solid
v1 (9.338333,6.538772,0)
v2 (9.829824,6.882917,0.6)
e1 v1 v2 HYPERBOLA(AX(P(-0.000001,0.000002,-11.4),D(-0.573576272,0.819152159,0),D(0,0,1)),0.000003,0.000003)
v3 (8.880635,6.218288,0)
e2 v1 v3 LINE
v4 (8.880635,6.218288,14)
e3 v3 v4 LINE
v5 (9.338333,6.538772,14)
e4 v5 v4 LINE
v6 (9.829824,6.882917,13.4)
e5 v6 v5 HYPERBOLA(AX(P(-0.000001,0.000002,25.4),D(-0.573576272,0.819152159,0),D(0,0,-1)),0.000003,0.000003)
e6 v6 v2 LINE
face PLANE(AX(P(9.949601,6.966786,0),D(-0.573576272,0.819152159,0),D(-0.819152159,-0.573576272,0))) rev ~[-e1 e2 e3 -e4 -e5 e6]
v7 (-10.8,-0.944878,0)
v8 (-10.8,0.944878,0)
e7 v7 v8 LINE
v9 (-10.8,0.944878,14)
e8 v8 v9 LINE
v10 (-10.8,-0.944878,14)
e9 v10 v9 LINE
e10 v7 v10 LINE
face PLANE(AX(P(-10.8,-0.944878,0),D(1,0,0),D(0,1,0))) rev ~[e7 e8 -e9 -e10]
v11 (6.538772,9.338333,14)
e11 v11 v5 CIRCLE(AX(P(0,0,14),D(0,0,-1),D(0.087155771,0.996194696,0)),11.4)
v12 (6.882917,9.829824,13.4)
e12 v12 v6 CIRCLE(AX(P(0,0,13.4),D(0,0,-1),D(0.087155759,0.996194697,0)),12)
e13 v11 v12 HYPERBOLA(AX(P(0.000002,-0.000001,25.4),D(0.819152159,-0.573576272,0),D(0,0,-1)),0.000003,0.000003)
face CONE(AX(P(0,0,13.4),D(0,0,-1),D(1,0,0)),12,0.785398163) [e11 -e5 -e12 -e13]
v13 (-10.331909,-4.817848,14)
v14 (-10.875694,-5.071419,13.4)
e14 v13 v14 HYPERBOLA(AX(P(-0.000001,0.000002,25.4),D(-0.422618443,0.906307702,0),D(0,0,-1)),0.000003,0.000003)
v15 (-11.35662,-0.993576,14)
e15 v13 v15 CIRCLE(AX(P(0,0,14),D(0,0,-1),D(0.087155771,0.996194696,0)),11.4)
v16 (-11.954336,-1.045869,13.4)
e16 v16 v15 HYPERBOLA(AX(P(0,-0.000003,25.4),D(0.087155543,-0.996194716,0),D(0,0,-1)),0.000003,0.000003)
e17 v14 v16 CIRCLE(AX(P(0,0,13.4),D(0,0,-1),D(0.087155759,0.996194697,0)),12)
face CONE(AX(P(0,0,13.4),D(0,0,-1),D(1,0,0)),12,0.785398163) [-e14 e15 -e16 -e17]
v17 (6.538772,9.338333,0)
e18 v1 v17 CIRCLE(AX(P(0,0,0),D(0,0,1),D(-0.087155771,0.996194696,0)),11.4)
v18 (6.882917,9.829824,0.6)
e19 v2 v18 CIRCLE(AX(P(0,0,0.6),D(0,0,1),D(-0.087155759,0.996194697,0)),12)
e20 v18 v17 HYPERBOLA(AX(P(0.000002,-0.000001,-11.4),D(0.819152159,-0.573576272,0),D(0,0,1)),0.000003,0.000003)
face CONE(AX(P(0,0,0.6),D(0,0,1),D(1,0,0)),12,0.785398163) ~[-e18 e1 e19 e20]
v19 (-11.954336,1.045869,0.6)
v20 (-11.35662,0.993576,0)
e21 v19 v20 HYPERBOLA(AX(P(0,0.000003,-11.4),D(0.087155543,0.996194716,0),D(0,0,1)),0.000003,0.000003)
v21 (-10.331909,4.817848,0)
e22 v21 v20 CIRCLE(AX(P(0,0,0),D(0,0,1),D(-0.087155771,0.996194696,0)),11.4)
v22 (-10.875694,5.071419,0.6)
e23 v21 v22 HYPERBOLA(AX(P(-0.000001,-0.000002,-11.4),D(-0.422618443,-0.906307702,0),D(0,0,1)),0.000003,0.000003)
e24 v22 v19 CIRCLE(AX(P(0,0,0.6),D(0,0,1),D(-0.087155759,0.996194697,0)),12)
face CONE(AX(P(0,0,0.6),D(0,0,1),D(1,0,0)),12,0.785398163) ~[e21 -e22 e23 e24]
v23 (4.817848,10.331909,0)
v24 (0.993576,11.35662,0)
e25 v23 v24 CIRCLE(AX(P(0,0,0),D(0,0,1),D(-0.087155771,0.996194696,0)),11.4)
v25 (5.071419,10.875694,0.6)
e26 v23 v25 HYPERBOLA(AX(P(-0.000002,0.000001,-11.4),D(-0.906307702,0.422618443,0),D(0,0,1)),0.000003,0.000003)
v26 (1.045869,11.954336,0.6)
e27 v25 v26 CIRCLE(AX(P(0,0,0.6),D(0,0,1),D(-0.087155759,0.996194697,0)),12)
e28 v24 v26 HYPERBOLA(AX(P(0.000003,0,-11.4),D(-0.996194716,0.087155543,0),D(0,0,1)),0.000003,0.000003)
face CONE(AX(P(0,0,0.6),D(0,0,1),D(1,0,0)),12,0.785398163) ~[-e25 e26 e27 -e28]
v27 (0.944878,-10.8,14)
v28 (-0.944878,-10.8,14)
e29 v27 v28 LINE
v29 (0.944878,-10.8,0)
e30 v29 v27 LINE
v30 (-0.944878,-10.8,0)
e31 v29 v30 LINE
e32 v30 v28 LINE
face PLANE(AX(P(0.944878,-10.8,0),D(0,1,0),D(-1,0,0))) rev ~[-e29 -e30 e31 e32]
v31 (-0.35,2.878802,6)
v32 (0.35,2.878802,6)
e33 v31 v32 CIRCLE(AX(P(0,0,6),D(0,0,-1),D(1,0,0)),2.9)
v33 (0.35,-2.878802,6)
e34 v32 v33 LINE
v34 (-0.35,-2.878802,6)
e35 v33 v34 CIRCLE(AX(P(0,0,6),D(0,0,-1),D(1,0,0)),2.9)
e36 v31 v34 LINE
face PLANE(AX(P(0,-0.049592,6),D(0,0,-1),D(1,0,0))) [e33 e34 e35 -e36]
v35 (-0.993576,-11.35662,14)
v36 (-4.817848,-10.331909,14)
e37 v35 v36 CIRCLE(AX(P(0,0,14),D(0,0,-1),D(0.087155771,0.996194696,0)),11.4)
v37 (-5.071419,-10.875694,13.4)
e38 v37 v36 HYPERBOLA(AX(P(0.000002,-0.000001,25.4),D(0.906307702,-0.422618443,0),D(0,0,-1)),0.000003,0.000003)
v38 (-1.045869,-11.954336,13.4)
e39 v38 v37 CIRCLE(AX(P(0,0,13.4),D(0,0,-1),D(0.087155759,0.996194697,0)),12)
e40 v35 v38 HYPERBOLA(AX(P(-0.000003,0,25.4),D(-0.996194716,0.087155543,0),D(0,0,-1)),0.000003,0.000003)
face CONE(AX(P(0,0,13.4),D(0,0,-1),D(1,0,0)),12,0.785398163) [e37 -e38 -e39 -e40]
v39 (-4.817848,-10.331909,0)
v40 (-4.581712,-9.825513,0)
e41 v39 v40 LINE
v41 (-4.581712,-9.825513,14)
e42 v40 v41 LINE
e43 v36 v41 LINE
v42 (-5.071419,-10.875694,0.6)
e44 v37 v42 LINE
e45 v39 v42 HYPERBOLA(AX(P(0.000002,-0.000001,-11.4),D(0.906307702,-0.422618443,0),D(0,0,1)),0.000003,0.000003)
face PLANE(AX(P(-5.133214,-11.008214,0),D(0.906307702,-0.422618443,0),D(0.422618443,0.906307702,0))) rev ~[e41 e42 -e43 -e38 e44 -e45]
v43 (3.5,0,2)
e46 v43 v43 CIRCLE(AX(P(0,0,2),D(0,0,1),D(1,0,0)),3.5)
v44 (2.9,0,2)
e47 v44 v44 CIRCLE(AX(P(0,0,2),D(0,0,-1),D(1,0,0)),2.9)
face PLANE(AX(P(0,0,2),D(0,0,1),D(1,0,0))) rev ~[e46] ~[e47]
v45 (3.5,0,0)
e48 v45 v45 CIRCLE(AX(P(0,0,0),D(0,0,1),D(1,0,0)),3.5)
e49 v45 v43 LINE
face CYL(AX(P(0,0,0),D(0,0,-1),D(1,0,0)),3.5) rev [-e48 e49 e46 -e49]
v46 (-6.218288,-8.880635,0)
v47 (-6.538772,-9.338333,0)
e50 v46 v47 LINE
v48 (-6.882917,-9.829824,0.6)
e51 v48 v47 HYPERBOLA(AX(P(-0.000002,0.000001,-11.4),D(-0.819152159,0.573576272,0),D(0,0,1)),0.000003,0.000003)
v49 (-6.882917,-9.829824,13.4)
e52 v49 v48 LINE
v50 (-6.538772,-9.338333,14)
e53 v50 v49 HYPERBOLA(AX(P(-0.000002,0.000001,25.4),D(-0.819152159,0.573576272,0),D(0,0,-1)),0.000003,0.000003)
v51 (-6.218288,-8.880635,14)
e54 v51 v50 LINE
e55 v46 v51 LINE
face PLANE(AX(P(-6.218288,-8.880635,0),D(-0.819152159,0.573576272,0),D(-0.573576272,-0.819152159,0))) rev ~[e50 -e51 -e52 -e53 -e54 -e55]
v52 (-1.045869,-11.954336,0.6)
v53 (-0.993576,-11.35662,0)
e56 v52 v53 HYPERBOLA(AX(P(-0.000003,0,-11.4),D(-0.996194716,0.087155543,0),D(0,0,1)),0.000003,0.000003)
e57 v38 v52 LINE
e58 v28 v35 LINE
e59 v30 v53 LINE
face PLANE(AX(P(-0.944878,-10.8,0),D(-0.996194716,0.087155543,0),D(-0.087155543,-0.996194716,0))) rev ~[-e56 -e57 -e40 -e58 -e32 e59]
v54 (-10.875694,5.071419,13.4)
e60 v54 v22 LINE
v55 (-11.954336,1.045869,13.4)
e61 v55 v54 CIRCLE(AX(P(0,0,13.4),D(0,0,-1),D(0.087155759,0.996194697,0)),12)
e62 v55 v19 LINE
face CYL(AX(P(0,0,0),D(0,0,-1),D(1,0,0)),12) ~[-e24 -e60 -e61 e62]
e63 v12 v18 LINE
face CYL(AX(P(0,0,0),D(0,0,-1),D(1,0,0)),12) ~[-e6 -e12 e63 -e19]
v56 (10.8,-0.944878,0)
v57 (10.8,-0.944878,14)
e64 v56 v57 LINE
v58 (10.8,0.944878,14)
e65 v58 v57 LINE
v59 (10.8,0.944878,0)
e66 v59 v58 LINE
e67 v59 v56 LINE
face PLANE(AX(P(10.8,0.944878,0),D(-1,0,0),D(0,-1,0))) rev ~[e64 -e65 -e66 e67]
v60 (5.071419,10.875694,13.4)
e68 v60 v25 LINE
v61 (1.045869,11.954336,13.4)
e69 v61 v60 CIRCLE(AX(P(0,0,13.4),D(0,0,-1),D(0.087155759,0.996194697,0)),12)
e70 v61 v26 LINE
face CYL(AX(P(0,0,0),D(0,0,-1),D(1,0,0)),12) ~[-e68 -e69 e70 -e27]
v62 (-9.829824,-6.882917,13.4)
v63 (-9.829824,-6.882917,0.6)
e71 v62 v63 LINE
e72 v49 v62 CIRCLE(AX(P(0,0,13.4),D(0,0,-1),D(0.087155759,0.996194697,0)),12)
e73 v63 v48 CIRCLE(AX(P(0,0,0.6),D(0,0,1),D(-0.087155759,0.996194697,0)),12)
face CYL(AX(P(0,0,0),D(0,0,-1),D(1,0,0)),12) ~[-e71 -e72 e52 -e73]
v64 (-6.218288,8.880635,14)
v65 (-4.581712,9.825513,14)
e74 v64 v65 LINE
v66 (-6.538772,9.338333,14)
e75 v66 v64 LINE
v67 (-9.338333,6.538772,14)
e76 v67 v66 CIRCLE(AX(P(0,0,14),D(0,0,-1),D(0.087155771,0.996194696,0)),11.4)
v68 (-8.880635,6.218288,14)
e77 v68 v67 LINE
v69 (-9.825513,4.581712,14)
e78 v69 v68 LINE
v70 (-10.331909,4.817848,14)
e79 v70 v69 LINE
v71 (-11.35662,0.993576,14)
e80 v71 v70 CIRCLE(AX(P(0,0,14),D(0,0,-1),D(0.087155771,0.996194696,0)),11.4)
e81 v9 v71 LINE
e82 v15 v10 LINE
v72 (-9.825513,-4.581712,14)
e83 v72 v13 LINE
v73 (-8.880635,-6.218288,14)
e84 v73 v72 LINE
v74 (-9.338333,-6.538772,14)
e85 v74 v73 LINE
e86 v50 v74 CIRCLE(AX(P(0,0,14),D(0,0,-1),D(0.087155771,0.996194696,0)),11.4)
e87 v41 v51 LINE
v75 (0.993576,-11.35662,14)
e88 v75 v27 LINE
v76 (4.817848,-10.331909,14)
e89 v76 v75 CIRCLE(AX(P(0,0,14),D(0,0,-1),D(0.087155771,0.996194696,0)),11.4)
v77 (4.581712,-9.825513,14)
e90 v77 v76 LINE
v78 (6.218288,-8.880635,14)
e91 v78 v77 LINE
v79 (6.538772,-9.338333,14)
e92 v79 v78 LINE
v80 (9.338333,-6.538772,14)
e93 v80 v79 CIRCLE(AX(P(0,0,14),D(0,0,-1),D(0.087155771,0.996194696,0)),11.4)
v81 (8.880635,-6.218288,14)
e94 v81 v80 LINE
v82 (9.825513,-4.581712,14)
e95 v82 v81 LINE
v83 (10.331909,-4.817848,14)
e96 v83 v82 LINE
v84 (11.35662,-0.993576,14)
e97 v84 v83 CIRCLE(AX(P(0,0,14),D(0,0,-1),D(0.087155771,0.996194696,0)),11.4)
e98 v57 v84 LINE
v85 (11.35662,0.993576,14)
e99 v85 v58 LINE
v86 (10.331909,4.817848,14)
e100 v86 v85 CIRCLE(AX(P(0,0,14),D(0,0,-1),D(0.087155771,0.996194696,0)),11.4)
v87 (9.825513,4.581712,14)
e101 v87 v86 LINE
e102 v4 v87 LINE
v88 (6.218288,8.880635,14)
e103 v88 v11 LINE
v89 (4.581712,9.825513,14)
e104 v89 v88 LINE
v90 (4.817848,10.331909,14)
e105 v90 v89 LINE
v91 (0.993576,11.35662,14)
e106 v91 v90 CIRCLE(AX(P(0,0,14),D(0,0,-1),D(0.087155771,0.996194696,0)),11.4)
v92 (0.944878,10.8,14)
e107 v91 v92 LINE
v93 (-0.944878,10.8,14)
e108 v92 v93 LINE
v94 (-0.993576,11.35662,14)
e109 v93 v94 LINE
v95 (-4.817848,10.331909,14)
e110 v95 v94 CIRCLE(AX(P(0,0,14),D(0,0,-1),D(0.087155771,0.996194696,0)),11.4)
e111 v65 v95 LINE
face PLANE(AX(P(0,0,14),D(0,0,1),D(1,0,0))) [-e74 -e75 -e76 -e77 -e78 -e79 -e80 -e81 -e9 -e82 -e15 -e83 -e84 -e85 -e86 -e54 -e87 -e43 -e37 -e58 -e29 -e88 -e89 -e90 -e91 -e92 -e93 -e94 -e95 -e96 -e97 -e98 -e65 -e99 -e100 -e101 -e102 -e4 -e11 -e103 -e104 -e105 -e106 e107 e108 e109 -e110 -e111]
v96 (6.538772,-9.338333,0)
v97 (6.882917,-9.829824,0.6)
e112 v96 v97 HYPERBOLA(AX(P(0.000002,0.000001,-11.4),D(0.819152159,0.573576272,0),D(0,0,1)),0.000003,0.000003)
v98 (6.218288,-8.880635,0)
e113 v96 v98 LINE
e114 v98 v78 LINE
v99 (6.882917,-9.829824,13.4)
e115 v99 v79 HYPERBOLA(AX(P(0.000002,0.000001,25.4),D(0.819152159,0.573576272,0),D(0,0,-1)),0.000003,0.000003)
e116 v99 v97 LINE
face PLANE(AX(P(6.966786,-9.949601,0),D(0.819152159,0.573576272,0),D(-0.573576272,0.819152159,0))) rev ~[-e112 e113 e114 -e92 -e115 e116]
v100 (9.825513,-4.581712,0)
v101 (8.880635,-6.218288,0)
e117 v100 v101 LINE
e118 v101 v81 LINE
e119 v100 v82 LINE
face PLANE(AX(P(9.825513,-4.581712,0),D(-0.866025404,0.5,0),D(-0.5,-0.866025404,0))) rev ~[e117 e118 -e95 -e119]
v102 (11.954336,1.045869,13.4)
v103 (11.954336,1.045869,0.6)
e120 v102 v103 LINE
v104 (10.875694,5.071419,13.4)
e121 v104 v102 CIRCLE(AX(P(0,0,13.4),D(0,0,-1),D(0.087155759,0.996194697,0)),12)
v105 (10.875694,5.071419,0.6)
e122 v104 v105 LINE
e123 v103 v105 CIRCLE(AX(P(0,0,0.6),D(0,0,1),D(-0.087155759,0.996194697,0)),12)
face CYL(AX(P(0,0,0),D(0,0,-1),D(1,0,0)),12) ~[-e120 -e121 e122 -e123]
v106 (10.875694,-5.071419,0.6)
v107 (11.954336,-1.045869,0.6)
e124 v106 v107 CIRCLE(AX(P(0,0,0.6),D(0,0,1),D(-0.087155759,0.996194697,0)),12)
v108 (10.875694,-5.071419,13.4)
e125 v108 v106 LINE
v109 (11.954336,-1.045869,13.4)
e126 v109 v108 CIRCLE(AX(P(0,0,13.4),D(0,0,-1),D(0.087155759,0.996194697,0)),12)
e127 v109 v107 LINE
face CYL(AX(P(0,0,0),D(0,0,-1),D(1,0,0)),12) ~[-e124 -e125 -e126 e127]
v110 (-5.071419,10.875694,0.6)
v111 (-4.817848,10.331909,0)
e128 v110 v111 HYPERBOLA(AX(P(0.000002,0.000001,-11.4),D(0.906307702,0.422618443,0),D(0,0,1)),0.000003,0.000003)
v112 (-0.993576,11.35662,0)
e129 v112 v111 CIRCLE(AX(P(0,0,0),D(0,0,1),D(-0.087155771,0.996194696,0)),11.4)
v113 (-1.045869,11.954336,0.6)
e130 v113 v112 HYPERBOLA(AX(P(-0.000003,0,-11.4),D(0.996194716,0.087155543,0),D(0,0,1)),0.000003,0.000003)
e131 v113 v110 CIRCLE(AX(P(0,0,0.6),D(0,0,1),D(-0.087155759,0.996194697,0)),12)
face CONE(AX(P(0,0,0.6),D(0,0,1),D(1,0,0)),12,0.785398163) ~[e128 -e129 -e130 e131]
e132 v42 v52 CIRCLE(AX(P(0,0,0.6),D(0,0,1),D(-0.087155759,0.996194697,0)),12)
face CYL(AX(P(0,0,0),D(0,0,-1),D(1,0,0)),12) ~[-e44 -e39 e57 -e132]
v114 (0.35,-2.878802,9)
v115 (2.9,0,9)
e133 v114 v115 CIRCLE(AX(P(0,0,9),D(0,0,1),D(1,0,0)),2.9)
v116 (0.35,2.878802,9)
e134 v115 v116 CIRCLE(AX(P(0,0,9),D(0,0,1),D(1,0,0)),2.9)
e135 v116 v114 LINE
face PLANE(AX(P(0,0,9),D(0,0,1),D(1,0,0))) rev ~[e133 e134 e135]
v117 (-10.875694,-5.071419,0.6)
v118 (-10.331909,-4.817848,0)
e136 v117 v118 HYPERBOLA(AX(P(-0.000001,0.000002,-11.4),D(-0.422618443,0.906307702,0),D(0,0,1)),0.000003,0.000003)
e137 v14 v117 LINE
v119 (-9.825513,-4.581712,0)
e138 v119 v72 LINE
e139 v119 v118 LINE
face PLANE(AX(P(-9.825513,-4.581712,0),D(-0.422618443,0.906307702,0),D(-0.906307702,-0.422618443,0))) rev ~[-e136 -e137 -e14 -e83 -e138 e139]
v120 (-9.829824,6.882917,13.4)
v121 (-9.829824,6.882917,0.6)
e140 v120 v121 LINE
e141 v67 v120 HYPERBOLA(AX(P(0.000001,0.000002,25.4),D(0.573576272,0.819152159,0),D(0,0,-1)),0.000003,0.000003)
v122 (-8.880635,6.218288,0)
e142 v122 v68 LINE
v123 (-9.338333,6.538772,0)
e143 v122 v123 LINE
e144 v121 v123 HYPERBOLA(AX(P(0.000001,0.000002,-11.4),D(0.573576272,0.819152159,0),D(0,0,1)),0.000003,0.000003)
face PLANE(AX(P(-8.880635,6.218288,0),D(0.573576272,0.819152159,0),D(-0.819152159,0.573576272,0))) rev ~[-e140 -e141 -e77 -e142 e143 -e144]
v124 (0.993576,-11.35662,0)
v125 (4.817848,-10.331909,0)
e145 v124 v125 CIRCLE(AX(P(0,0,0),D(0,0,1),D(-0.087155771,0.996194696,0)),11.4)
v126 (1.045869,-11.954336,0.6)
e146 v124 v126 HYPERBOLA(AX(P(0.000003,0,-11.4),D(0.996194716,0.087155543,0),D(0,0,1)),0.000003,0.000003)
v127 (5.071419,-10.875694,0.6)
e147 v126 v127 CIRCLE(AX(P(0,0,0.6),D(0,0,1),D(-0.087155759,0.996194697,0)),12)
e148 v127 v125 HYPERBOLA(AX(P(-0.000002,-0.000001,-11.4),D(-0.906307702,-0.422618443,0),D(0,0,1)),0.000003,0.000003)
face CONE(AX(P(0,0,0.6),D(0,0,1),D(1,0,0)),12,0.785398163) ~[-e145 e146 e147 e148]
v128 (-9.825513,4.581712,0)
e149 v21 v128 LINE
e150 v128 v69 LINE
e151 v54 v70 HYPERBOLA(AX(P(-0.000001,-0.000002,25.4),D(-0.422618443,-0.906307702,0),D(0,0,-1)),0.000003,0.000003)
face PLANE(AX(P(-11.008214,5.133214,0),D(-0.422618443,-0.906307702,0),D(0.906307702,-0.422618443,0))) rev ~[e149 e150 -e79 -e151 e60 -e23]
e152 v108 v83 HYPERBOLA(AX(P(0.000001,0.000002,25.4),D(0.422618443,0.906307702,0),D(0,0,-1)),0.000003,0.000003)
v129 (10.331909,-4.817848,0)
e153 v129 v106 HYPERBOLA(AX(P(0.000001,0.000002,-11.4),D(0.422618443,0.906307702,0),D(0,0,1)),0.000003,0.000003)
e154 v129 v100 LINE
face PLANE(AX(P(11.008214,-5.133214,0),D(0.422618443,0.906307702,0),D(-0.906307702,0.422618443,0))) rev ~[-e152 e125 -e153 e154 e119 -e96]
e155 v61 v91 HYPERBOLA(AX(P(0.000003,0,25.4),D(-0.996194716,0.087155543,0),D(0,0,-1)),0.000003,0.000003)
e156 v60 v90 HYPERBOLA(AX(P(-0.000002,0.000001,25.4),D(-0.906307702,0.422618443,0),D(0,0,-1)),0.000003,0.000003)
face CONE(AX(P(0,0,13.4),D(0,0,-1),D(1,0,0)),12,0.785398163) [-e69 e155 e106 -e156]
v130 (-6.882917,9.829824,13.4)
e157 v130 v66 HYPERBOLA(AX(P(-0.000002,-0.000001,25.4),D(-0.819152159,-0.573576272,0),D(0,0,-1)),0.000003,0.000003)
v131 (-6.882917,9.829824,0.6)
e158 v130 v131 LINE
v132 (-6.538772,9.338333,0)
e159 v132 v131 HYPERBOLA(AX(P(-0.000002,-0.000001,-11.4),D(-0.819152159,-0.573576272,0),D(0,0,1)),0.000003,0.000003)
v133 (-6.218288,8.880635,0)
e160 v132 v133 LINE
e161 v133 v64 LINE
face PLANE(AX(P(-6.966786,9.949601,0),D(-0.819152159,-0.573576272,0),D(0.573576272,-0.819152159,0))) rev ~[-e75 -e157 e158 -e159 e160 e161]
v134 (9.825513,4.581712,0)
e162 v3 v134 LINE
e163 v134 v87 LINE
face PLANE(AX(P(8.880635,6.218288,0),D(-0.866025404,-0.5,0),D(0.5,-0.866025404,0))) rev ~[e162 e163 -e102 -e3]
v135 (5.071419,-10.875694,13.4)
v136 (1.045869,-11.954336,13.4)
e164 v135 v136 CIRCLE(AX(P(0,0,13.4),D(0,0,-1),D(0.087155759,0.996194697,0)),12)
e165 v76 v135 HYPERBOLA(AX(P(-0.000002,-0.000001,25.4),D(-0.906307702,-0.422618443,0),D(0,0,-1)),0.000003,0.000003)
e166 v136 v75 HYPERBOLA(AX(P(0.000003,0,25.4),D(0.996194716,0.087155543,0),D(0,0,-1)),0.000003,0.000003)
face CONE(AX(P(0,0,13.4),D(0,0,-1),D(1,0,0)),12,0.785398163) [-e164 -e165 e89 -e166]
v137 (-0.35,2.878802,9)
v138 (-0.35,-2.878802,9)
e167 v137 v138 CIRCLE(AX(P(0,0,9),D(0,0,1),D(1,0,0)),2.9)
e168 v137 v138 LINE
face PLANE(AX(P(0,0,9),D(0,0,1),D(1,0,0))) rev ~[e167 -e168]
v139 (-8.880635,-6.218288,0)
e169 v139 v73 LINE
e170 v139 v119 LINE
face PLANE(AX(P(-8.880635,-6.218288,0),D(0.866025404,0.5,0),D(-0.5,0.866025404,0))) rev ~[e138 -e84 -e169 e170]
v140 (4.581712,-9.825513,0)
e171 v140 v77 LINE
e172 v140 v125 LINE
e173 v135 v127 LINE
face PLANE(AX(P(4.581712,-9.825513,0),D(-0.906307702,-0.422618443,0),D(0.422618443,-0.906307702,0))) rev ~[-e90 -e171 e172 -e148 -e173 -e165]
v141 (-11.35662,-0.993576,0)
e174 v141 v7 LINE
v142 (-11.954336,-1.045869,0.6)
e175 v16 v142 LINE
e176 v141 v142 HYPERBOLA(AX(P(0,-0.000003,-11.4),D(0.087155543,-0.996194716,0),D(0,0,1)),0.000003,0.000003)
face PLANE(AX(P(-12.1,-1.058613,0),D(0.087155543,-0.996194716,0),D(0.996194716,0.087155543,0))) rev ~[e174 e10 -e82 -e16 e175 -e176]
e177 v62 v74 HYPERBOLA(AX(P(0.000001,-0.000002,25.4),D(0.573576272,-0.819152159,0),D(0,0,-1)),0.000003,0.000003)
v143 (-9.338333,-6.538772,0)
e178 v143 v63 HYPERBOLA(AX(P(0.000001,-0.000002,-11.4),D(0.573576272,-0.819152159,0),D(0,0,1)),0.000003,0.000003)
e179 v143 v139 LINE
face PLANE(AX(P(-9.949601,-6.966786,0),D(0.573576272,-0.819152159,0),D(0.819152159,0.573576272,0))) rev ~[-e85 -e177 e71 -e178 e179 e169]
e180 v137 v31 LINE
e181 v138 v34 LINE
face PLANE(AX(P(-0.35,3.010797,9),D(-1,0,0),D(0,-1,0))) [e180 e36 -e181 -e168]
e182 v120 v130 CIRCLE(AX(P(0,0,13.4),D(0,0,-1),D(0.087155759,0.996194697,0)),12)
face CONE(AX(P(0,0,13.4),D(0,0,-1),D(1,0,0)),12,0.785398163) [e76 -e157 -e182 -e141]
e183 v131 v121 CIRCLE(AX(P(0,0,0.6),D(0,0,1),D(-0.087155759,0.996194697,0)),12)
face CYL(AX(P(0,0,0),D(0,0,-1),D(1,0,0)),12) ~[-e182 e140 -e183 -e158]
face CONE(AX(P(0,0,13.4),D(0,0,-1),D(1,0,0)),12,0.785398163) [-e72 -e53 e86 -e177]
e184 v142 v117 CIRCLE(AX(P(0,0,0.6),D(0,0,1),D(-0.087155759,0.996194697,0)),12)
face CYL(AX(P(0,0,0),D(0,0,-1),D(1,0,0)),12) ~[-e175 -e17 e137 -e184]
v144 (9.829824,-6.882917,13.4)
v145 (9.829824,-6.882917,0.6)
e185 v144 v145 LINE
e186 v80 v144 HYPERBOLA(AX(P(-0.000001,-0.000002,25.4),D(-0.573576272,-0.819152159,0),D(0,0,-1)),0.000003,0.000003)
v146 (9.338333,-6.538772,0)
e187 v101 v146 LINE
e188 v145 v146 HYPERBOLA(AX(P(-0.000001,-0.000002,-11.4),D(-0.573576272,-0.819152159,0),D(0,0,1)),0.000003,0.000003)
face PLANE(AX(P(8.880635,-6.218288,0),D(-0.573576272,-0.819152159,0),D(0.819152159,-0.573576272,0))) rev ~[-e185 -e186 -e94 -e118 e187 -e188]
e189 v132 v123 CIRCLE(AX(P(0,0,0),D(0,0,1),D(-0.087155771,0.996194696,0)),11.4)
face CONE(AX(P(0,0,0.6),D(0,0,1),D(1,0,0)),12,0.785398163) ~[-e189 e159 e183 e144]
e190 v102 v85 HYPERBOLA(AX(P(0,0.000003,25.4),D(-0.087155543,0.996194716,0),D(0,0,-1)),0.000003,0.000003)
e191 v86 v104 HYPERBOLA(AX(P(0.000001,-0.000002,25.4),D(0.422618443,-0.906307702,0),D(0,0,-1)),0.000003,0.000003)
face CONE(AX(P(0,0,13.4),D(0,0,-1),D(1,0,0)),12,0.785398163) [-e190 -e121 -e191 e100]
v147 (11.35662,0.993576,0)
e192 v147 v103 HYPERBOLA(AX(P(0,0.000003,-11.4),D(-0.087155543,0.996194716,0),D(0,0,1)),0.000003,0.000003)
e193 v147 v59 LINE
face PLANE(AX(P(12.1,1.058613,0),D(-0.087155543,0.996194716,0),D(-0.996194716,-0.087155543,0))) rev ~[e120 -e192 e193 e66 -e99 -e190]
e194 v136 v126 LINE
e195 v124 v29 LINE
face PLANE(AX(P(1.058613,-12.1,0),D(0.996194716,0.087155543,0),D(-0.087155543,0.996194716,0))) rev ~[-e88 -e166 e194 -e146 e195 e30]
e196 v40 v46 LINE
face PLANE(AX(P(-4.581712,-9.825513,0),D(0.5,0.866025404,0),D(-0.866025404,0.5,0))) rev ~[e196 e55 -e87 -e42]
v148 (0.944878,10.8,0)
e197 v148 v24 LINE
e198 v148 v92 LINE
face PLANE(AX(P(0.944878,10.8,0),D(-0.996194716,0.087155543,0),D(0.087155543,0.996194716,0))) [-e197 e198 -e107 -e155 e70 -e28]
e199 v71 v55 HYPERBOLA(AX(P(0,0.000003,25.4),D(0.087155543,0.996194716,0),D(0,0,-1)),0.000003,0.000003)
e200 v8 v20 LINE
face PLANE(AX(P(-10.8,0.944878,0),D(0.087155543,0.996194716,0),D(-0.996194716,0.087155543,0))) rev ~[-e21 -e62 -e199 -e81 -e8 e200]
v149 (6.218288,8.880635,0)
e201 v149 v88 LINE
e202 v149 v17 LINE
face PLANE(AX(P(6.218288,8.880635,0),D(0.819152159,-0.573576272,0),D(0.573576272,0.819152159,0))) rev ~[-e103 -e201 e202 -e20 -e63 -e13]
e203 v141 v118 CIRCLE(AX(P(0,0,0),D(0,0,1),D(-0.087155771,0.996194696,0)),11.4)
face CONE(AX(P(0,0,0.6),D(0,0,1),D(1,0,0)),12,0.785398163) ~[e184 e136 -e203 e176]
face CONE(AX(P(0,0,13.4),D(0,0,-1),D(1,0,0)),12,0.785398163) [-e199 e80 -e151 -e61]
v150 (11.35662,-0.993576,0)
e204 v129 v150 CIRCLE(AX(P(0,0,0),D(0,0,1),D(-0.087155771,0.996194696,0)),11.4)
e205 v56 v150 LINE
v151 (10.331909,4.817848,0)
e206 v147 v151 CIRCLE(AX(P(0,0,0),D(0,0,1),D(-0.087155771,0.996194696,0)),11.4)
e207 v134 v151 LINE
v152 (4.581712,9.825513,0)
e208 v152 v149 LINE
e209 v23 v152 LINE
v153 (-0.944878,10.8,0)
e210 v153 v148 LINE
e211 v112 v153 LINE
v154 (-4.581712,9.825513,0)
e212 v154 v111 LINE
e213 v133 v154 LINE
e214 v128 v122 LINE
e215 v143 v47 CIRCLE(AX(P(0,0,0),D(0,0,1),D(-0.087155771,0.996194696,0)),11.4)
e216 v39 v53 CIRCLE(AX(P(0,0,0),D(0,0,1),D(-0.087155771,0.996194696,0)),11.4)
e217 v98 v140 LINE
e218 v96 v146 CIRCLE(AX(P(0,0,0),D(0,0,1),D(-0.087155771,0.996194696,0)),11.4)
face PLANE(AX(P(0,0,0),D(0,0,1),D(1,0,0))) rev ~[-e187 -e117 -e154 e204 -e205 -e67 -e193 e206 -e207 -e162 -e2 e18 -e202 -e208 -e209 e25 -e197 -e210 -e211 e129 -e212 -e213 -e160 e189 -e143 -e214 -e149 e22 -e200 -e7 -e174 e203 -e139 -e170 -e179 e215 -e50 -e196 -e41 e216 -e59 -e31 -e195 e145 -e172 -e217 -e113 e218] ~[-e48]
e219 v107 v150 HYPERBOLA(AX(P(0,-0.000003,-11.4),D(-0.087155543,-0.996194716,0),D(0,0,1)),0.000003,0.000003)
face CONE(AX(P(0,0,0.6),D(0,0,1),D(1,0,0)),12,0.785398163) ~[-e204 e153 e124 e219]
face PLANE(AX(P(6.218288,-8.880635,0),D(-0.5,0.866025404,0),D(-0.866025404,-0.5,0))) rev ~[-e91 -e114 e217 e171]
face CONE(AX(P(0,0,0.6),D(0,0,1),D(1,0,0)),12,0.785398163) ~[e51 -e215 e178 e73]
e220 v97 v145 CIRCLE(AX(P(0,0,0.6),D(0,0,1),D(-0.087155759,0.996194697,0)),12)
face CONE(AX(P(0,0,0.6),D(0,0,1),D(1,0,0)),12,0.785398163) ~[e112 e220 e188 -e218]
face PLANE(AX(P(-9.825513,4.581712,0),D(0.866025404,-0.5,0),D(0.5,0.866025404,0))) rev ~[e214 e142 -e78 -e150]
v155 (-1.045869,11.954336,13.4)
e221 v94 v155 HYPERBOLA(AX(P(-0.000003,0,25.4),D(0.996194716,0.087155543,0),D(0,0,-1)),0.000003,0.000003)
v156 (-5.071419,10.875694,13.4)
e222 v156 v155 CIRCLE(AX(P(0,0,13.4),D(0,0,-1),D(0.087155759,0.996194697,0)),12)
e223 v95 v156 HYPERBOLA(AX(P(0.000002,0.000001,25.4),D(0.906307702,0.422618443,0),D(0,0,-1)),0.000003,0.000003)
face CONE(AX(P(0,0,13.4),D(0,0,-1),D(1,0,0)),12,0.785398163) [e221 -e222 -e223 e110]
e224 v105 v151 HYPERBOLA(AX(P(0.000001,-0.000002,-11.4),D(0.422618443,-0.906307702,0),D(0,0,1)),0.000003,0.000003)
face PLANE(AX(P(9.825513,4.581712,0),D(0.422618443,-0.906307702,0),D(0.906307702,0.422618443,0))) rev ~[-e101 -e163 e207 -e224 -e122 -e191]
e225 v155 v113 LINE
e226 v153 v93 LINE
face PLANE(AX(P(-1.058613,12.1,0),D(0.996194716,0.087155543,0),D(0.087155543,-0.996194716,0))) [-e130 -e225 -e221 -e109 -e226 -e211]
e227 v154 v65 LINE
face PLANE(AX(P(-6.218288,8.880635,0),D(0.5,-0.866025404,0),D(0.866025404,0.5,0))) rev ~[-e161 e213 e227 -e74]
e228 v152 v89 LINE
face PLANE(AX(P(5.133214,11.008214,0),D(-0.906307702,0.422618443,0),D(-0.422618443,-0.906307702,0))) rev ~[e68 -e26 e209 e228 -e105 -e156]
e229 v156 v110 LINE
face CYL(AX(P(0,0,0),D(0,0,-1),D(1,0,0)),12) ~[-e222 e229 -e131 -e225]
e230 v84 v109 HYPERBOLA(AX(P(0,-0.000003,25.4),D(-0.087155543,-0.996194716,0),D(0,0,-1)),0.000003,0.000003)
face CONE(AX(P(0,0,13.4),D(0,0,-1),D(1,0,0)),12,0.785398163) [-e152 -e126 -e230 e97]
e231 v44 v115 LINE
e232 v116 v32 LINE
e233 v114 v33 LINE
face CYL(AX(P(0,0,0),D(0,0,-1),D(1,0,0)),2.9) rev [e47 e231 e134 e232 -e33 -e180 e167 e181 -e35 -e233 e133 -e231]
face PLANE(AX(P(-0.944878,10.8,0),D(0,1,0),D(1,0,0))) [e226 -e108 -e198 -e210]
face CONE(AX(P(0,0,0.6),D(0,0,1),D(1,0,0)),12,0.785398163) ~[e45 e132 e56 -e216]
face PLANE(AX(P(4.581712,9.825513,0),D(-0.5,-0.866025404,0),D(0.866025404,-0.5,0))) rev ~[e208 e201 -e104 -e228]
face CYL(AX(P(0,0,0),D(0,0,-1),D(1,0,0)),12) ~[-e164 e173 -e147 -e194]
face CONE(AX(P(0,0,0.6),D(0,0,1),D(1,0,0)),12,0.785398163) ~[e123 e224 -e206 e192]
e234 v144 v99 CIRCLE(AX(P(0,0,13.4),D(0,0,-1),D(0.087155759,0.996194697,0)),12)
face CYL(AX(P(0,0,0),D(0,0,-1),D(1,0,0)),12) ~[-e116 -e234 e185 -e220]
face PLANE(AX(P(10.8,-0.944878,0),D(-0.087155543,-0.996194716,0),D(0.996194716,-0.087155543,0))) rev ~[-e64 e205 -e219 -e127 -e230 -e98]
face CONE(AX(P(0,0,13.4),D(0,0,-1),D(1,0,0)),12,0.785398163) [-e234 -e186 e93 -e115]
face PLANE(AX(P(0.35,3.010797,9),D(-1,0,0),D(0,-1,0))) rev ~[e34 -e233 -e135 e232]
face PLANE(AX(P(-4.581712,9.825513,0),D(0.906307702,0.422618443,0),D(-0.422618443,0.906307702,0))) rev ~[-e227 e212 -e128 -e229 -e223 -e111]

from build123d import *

# Parameters (mm, degrees)
SKETCH002_R        = 12
PAD002_DEPTH       = 14
CHAMFER_SIZE       = 0.6
POCKET_DEPTH       = 73.431239
POCKET_DEPTH_BACK  = 87.431239
POLARPATTERN_COUNT = 12
SKETCH_R           = 3.5
POCKET001_DEPTH    = 2
SKETCH004_R        = 2.9
POCKET002_DEPTH    = 9
SKETCH005_W        = 0.7
SKETCH005_H        = 6.120777
PAD_DEPTH          = 3


with BuildPart() as part:
    # Sketch002 → Pad002 (new body)
    with BuildSketch(Plane.XY):
        Circle(SKETCH002_R)
    extrude(amount=PAD002_DEPTH)

    # Chamfer
    chamfer_edges = [part.edges().sort_by_distance(p)[0] for p in [
        (-12, 0, 14),
        (-12, 0, 0),
    ]]
    chamfer(chamfer_edges, length=CHAMFER_SIZE)

    # Sketch003 → Pocket (cut, two sides)
    with BuildSketch(Plane.XY) as pocket_sk:
        Polygon((-1.058613, 12.1), (-0.944878, 10.8), (0.944878, 10.8), (1.058613, 12.1), align=None)
    pocket = extrude(amount=-POCKET_DEPTH, mode=Mode.SUBTRACT) + extrude(pocket_sk.sketch, amount=POCKET_DEPTH_BACK, mode=Mode.SUBTRACT)

    # PolarPattern: Pocket ×12 about axis
    polarpattern_axis = Axis((0, 0, 0), (0, 0, 1))
    for i in range(1, POLARPATTERN_COUNT):
        add(pocket.rotate(polarpattern_axis, i * 360 / POLARPATTERN_COUNT), mode=Mode.SUBTRACT)

    # Sketch → Pocket001 (cut)
    with BuildSketch(Plane.XY):
        Circle(SKETCH_R)
    extrude(amount=POCKET001_DEPTH, mode=Mode.SUBTRACT)

    # Sketch004 → Pocket002 (cut)
    with BuildSketch(Plane.XY):
        Circle(SKETCH004_R)
    extrude(amount=POCKET002_DEPTH, mode=Mode.SUBTRACT)

    # Sketch005 (on Face78 of Pocket002) → Pad (join)
    with BuildSketch(Plane(origin=(0, 0, 9), x_dir=(1, 0, 0), z_dir=(0, 0, -1))):
        with Locations((0, 0.049592)):
            Rectangle(SKETCH005_W, SKETCH005_H)
    extrude(amount=PAD_DEPTH)


solid = part.part
